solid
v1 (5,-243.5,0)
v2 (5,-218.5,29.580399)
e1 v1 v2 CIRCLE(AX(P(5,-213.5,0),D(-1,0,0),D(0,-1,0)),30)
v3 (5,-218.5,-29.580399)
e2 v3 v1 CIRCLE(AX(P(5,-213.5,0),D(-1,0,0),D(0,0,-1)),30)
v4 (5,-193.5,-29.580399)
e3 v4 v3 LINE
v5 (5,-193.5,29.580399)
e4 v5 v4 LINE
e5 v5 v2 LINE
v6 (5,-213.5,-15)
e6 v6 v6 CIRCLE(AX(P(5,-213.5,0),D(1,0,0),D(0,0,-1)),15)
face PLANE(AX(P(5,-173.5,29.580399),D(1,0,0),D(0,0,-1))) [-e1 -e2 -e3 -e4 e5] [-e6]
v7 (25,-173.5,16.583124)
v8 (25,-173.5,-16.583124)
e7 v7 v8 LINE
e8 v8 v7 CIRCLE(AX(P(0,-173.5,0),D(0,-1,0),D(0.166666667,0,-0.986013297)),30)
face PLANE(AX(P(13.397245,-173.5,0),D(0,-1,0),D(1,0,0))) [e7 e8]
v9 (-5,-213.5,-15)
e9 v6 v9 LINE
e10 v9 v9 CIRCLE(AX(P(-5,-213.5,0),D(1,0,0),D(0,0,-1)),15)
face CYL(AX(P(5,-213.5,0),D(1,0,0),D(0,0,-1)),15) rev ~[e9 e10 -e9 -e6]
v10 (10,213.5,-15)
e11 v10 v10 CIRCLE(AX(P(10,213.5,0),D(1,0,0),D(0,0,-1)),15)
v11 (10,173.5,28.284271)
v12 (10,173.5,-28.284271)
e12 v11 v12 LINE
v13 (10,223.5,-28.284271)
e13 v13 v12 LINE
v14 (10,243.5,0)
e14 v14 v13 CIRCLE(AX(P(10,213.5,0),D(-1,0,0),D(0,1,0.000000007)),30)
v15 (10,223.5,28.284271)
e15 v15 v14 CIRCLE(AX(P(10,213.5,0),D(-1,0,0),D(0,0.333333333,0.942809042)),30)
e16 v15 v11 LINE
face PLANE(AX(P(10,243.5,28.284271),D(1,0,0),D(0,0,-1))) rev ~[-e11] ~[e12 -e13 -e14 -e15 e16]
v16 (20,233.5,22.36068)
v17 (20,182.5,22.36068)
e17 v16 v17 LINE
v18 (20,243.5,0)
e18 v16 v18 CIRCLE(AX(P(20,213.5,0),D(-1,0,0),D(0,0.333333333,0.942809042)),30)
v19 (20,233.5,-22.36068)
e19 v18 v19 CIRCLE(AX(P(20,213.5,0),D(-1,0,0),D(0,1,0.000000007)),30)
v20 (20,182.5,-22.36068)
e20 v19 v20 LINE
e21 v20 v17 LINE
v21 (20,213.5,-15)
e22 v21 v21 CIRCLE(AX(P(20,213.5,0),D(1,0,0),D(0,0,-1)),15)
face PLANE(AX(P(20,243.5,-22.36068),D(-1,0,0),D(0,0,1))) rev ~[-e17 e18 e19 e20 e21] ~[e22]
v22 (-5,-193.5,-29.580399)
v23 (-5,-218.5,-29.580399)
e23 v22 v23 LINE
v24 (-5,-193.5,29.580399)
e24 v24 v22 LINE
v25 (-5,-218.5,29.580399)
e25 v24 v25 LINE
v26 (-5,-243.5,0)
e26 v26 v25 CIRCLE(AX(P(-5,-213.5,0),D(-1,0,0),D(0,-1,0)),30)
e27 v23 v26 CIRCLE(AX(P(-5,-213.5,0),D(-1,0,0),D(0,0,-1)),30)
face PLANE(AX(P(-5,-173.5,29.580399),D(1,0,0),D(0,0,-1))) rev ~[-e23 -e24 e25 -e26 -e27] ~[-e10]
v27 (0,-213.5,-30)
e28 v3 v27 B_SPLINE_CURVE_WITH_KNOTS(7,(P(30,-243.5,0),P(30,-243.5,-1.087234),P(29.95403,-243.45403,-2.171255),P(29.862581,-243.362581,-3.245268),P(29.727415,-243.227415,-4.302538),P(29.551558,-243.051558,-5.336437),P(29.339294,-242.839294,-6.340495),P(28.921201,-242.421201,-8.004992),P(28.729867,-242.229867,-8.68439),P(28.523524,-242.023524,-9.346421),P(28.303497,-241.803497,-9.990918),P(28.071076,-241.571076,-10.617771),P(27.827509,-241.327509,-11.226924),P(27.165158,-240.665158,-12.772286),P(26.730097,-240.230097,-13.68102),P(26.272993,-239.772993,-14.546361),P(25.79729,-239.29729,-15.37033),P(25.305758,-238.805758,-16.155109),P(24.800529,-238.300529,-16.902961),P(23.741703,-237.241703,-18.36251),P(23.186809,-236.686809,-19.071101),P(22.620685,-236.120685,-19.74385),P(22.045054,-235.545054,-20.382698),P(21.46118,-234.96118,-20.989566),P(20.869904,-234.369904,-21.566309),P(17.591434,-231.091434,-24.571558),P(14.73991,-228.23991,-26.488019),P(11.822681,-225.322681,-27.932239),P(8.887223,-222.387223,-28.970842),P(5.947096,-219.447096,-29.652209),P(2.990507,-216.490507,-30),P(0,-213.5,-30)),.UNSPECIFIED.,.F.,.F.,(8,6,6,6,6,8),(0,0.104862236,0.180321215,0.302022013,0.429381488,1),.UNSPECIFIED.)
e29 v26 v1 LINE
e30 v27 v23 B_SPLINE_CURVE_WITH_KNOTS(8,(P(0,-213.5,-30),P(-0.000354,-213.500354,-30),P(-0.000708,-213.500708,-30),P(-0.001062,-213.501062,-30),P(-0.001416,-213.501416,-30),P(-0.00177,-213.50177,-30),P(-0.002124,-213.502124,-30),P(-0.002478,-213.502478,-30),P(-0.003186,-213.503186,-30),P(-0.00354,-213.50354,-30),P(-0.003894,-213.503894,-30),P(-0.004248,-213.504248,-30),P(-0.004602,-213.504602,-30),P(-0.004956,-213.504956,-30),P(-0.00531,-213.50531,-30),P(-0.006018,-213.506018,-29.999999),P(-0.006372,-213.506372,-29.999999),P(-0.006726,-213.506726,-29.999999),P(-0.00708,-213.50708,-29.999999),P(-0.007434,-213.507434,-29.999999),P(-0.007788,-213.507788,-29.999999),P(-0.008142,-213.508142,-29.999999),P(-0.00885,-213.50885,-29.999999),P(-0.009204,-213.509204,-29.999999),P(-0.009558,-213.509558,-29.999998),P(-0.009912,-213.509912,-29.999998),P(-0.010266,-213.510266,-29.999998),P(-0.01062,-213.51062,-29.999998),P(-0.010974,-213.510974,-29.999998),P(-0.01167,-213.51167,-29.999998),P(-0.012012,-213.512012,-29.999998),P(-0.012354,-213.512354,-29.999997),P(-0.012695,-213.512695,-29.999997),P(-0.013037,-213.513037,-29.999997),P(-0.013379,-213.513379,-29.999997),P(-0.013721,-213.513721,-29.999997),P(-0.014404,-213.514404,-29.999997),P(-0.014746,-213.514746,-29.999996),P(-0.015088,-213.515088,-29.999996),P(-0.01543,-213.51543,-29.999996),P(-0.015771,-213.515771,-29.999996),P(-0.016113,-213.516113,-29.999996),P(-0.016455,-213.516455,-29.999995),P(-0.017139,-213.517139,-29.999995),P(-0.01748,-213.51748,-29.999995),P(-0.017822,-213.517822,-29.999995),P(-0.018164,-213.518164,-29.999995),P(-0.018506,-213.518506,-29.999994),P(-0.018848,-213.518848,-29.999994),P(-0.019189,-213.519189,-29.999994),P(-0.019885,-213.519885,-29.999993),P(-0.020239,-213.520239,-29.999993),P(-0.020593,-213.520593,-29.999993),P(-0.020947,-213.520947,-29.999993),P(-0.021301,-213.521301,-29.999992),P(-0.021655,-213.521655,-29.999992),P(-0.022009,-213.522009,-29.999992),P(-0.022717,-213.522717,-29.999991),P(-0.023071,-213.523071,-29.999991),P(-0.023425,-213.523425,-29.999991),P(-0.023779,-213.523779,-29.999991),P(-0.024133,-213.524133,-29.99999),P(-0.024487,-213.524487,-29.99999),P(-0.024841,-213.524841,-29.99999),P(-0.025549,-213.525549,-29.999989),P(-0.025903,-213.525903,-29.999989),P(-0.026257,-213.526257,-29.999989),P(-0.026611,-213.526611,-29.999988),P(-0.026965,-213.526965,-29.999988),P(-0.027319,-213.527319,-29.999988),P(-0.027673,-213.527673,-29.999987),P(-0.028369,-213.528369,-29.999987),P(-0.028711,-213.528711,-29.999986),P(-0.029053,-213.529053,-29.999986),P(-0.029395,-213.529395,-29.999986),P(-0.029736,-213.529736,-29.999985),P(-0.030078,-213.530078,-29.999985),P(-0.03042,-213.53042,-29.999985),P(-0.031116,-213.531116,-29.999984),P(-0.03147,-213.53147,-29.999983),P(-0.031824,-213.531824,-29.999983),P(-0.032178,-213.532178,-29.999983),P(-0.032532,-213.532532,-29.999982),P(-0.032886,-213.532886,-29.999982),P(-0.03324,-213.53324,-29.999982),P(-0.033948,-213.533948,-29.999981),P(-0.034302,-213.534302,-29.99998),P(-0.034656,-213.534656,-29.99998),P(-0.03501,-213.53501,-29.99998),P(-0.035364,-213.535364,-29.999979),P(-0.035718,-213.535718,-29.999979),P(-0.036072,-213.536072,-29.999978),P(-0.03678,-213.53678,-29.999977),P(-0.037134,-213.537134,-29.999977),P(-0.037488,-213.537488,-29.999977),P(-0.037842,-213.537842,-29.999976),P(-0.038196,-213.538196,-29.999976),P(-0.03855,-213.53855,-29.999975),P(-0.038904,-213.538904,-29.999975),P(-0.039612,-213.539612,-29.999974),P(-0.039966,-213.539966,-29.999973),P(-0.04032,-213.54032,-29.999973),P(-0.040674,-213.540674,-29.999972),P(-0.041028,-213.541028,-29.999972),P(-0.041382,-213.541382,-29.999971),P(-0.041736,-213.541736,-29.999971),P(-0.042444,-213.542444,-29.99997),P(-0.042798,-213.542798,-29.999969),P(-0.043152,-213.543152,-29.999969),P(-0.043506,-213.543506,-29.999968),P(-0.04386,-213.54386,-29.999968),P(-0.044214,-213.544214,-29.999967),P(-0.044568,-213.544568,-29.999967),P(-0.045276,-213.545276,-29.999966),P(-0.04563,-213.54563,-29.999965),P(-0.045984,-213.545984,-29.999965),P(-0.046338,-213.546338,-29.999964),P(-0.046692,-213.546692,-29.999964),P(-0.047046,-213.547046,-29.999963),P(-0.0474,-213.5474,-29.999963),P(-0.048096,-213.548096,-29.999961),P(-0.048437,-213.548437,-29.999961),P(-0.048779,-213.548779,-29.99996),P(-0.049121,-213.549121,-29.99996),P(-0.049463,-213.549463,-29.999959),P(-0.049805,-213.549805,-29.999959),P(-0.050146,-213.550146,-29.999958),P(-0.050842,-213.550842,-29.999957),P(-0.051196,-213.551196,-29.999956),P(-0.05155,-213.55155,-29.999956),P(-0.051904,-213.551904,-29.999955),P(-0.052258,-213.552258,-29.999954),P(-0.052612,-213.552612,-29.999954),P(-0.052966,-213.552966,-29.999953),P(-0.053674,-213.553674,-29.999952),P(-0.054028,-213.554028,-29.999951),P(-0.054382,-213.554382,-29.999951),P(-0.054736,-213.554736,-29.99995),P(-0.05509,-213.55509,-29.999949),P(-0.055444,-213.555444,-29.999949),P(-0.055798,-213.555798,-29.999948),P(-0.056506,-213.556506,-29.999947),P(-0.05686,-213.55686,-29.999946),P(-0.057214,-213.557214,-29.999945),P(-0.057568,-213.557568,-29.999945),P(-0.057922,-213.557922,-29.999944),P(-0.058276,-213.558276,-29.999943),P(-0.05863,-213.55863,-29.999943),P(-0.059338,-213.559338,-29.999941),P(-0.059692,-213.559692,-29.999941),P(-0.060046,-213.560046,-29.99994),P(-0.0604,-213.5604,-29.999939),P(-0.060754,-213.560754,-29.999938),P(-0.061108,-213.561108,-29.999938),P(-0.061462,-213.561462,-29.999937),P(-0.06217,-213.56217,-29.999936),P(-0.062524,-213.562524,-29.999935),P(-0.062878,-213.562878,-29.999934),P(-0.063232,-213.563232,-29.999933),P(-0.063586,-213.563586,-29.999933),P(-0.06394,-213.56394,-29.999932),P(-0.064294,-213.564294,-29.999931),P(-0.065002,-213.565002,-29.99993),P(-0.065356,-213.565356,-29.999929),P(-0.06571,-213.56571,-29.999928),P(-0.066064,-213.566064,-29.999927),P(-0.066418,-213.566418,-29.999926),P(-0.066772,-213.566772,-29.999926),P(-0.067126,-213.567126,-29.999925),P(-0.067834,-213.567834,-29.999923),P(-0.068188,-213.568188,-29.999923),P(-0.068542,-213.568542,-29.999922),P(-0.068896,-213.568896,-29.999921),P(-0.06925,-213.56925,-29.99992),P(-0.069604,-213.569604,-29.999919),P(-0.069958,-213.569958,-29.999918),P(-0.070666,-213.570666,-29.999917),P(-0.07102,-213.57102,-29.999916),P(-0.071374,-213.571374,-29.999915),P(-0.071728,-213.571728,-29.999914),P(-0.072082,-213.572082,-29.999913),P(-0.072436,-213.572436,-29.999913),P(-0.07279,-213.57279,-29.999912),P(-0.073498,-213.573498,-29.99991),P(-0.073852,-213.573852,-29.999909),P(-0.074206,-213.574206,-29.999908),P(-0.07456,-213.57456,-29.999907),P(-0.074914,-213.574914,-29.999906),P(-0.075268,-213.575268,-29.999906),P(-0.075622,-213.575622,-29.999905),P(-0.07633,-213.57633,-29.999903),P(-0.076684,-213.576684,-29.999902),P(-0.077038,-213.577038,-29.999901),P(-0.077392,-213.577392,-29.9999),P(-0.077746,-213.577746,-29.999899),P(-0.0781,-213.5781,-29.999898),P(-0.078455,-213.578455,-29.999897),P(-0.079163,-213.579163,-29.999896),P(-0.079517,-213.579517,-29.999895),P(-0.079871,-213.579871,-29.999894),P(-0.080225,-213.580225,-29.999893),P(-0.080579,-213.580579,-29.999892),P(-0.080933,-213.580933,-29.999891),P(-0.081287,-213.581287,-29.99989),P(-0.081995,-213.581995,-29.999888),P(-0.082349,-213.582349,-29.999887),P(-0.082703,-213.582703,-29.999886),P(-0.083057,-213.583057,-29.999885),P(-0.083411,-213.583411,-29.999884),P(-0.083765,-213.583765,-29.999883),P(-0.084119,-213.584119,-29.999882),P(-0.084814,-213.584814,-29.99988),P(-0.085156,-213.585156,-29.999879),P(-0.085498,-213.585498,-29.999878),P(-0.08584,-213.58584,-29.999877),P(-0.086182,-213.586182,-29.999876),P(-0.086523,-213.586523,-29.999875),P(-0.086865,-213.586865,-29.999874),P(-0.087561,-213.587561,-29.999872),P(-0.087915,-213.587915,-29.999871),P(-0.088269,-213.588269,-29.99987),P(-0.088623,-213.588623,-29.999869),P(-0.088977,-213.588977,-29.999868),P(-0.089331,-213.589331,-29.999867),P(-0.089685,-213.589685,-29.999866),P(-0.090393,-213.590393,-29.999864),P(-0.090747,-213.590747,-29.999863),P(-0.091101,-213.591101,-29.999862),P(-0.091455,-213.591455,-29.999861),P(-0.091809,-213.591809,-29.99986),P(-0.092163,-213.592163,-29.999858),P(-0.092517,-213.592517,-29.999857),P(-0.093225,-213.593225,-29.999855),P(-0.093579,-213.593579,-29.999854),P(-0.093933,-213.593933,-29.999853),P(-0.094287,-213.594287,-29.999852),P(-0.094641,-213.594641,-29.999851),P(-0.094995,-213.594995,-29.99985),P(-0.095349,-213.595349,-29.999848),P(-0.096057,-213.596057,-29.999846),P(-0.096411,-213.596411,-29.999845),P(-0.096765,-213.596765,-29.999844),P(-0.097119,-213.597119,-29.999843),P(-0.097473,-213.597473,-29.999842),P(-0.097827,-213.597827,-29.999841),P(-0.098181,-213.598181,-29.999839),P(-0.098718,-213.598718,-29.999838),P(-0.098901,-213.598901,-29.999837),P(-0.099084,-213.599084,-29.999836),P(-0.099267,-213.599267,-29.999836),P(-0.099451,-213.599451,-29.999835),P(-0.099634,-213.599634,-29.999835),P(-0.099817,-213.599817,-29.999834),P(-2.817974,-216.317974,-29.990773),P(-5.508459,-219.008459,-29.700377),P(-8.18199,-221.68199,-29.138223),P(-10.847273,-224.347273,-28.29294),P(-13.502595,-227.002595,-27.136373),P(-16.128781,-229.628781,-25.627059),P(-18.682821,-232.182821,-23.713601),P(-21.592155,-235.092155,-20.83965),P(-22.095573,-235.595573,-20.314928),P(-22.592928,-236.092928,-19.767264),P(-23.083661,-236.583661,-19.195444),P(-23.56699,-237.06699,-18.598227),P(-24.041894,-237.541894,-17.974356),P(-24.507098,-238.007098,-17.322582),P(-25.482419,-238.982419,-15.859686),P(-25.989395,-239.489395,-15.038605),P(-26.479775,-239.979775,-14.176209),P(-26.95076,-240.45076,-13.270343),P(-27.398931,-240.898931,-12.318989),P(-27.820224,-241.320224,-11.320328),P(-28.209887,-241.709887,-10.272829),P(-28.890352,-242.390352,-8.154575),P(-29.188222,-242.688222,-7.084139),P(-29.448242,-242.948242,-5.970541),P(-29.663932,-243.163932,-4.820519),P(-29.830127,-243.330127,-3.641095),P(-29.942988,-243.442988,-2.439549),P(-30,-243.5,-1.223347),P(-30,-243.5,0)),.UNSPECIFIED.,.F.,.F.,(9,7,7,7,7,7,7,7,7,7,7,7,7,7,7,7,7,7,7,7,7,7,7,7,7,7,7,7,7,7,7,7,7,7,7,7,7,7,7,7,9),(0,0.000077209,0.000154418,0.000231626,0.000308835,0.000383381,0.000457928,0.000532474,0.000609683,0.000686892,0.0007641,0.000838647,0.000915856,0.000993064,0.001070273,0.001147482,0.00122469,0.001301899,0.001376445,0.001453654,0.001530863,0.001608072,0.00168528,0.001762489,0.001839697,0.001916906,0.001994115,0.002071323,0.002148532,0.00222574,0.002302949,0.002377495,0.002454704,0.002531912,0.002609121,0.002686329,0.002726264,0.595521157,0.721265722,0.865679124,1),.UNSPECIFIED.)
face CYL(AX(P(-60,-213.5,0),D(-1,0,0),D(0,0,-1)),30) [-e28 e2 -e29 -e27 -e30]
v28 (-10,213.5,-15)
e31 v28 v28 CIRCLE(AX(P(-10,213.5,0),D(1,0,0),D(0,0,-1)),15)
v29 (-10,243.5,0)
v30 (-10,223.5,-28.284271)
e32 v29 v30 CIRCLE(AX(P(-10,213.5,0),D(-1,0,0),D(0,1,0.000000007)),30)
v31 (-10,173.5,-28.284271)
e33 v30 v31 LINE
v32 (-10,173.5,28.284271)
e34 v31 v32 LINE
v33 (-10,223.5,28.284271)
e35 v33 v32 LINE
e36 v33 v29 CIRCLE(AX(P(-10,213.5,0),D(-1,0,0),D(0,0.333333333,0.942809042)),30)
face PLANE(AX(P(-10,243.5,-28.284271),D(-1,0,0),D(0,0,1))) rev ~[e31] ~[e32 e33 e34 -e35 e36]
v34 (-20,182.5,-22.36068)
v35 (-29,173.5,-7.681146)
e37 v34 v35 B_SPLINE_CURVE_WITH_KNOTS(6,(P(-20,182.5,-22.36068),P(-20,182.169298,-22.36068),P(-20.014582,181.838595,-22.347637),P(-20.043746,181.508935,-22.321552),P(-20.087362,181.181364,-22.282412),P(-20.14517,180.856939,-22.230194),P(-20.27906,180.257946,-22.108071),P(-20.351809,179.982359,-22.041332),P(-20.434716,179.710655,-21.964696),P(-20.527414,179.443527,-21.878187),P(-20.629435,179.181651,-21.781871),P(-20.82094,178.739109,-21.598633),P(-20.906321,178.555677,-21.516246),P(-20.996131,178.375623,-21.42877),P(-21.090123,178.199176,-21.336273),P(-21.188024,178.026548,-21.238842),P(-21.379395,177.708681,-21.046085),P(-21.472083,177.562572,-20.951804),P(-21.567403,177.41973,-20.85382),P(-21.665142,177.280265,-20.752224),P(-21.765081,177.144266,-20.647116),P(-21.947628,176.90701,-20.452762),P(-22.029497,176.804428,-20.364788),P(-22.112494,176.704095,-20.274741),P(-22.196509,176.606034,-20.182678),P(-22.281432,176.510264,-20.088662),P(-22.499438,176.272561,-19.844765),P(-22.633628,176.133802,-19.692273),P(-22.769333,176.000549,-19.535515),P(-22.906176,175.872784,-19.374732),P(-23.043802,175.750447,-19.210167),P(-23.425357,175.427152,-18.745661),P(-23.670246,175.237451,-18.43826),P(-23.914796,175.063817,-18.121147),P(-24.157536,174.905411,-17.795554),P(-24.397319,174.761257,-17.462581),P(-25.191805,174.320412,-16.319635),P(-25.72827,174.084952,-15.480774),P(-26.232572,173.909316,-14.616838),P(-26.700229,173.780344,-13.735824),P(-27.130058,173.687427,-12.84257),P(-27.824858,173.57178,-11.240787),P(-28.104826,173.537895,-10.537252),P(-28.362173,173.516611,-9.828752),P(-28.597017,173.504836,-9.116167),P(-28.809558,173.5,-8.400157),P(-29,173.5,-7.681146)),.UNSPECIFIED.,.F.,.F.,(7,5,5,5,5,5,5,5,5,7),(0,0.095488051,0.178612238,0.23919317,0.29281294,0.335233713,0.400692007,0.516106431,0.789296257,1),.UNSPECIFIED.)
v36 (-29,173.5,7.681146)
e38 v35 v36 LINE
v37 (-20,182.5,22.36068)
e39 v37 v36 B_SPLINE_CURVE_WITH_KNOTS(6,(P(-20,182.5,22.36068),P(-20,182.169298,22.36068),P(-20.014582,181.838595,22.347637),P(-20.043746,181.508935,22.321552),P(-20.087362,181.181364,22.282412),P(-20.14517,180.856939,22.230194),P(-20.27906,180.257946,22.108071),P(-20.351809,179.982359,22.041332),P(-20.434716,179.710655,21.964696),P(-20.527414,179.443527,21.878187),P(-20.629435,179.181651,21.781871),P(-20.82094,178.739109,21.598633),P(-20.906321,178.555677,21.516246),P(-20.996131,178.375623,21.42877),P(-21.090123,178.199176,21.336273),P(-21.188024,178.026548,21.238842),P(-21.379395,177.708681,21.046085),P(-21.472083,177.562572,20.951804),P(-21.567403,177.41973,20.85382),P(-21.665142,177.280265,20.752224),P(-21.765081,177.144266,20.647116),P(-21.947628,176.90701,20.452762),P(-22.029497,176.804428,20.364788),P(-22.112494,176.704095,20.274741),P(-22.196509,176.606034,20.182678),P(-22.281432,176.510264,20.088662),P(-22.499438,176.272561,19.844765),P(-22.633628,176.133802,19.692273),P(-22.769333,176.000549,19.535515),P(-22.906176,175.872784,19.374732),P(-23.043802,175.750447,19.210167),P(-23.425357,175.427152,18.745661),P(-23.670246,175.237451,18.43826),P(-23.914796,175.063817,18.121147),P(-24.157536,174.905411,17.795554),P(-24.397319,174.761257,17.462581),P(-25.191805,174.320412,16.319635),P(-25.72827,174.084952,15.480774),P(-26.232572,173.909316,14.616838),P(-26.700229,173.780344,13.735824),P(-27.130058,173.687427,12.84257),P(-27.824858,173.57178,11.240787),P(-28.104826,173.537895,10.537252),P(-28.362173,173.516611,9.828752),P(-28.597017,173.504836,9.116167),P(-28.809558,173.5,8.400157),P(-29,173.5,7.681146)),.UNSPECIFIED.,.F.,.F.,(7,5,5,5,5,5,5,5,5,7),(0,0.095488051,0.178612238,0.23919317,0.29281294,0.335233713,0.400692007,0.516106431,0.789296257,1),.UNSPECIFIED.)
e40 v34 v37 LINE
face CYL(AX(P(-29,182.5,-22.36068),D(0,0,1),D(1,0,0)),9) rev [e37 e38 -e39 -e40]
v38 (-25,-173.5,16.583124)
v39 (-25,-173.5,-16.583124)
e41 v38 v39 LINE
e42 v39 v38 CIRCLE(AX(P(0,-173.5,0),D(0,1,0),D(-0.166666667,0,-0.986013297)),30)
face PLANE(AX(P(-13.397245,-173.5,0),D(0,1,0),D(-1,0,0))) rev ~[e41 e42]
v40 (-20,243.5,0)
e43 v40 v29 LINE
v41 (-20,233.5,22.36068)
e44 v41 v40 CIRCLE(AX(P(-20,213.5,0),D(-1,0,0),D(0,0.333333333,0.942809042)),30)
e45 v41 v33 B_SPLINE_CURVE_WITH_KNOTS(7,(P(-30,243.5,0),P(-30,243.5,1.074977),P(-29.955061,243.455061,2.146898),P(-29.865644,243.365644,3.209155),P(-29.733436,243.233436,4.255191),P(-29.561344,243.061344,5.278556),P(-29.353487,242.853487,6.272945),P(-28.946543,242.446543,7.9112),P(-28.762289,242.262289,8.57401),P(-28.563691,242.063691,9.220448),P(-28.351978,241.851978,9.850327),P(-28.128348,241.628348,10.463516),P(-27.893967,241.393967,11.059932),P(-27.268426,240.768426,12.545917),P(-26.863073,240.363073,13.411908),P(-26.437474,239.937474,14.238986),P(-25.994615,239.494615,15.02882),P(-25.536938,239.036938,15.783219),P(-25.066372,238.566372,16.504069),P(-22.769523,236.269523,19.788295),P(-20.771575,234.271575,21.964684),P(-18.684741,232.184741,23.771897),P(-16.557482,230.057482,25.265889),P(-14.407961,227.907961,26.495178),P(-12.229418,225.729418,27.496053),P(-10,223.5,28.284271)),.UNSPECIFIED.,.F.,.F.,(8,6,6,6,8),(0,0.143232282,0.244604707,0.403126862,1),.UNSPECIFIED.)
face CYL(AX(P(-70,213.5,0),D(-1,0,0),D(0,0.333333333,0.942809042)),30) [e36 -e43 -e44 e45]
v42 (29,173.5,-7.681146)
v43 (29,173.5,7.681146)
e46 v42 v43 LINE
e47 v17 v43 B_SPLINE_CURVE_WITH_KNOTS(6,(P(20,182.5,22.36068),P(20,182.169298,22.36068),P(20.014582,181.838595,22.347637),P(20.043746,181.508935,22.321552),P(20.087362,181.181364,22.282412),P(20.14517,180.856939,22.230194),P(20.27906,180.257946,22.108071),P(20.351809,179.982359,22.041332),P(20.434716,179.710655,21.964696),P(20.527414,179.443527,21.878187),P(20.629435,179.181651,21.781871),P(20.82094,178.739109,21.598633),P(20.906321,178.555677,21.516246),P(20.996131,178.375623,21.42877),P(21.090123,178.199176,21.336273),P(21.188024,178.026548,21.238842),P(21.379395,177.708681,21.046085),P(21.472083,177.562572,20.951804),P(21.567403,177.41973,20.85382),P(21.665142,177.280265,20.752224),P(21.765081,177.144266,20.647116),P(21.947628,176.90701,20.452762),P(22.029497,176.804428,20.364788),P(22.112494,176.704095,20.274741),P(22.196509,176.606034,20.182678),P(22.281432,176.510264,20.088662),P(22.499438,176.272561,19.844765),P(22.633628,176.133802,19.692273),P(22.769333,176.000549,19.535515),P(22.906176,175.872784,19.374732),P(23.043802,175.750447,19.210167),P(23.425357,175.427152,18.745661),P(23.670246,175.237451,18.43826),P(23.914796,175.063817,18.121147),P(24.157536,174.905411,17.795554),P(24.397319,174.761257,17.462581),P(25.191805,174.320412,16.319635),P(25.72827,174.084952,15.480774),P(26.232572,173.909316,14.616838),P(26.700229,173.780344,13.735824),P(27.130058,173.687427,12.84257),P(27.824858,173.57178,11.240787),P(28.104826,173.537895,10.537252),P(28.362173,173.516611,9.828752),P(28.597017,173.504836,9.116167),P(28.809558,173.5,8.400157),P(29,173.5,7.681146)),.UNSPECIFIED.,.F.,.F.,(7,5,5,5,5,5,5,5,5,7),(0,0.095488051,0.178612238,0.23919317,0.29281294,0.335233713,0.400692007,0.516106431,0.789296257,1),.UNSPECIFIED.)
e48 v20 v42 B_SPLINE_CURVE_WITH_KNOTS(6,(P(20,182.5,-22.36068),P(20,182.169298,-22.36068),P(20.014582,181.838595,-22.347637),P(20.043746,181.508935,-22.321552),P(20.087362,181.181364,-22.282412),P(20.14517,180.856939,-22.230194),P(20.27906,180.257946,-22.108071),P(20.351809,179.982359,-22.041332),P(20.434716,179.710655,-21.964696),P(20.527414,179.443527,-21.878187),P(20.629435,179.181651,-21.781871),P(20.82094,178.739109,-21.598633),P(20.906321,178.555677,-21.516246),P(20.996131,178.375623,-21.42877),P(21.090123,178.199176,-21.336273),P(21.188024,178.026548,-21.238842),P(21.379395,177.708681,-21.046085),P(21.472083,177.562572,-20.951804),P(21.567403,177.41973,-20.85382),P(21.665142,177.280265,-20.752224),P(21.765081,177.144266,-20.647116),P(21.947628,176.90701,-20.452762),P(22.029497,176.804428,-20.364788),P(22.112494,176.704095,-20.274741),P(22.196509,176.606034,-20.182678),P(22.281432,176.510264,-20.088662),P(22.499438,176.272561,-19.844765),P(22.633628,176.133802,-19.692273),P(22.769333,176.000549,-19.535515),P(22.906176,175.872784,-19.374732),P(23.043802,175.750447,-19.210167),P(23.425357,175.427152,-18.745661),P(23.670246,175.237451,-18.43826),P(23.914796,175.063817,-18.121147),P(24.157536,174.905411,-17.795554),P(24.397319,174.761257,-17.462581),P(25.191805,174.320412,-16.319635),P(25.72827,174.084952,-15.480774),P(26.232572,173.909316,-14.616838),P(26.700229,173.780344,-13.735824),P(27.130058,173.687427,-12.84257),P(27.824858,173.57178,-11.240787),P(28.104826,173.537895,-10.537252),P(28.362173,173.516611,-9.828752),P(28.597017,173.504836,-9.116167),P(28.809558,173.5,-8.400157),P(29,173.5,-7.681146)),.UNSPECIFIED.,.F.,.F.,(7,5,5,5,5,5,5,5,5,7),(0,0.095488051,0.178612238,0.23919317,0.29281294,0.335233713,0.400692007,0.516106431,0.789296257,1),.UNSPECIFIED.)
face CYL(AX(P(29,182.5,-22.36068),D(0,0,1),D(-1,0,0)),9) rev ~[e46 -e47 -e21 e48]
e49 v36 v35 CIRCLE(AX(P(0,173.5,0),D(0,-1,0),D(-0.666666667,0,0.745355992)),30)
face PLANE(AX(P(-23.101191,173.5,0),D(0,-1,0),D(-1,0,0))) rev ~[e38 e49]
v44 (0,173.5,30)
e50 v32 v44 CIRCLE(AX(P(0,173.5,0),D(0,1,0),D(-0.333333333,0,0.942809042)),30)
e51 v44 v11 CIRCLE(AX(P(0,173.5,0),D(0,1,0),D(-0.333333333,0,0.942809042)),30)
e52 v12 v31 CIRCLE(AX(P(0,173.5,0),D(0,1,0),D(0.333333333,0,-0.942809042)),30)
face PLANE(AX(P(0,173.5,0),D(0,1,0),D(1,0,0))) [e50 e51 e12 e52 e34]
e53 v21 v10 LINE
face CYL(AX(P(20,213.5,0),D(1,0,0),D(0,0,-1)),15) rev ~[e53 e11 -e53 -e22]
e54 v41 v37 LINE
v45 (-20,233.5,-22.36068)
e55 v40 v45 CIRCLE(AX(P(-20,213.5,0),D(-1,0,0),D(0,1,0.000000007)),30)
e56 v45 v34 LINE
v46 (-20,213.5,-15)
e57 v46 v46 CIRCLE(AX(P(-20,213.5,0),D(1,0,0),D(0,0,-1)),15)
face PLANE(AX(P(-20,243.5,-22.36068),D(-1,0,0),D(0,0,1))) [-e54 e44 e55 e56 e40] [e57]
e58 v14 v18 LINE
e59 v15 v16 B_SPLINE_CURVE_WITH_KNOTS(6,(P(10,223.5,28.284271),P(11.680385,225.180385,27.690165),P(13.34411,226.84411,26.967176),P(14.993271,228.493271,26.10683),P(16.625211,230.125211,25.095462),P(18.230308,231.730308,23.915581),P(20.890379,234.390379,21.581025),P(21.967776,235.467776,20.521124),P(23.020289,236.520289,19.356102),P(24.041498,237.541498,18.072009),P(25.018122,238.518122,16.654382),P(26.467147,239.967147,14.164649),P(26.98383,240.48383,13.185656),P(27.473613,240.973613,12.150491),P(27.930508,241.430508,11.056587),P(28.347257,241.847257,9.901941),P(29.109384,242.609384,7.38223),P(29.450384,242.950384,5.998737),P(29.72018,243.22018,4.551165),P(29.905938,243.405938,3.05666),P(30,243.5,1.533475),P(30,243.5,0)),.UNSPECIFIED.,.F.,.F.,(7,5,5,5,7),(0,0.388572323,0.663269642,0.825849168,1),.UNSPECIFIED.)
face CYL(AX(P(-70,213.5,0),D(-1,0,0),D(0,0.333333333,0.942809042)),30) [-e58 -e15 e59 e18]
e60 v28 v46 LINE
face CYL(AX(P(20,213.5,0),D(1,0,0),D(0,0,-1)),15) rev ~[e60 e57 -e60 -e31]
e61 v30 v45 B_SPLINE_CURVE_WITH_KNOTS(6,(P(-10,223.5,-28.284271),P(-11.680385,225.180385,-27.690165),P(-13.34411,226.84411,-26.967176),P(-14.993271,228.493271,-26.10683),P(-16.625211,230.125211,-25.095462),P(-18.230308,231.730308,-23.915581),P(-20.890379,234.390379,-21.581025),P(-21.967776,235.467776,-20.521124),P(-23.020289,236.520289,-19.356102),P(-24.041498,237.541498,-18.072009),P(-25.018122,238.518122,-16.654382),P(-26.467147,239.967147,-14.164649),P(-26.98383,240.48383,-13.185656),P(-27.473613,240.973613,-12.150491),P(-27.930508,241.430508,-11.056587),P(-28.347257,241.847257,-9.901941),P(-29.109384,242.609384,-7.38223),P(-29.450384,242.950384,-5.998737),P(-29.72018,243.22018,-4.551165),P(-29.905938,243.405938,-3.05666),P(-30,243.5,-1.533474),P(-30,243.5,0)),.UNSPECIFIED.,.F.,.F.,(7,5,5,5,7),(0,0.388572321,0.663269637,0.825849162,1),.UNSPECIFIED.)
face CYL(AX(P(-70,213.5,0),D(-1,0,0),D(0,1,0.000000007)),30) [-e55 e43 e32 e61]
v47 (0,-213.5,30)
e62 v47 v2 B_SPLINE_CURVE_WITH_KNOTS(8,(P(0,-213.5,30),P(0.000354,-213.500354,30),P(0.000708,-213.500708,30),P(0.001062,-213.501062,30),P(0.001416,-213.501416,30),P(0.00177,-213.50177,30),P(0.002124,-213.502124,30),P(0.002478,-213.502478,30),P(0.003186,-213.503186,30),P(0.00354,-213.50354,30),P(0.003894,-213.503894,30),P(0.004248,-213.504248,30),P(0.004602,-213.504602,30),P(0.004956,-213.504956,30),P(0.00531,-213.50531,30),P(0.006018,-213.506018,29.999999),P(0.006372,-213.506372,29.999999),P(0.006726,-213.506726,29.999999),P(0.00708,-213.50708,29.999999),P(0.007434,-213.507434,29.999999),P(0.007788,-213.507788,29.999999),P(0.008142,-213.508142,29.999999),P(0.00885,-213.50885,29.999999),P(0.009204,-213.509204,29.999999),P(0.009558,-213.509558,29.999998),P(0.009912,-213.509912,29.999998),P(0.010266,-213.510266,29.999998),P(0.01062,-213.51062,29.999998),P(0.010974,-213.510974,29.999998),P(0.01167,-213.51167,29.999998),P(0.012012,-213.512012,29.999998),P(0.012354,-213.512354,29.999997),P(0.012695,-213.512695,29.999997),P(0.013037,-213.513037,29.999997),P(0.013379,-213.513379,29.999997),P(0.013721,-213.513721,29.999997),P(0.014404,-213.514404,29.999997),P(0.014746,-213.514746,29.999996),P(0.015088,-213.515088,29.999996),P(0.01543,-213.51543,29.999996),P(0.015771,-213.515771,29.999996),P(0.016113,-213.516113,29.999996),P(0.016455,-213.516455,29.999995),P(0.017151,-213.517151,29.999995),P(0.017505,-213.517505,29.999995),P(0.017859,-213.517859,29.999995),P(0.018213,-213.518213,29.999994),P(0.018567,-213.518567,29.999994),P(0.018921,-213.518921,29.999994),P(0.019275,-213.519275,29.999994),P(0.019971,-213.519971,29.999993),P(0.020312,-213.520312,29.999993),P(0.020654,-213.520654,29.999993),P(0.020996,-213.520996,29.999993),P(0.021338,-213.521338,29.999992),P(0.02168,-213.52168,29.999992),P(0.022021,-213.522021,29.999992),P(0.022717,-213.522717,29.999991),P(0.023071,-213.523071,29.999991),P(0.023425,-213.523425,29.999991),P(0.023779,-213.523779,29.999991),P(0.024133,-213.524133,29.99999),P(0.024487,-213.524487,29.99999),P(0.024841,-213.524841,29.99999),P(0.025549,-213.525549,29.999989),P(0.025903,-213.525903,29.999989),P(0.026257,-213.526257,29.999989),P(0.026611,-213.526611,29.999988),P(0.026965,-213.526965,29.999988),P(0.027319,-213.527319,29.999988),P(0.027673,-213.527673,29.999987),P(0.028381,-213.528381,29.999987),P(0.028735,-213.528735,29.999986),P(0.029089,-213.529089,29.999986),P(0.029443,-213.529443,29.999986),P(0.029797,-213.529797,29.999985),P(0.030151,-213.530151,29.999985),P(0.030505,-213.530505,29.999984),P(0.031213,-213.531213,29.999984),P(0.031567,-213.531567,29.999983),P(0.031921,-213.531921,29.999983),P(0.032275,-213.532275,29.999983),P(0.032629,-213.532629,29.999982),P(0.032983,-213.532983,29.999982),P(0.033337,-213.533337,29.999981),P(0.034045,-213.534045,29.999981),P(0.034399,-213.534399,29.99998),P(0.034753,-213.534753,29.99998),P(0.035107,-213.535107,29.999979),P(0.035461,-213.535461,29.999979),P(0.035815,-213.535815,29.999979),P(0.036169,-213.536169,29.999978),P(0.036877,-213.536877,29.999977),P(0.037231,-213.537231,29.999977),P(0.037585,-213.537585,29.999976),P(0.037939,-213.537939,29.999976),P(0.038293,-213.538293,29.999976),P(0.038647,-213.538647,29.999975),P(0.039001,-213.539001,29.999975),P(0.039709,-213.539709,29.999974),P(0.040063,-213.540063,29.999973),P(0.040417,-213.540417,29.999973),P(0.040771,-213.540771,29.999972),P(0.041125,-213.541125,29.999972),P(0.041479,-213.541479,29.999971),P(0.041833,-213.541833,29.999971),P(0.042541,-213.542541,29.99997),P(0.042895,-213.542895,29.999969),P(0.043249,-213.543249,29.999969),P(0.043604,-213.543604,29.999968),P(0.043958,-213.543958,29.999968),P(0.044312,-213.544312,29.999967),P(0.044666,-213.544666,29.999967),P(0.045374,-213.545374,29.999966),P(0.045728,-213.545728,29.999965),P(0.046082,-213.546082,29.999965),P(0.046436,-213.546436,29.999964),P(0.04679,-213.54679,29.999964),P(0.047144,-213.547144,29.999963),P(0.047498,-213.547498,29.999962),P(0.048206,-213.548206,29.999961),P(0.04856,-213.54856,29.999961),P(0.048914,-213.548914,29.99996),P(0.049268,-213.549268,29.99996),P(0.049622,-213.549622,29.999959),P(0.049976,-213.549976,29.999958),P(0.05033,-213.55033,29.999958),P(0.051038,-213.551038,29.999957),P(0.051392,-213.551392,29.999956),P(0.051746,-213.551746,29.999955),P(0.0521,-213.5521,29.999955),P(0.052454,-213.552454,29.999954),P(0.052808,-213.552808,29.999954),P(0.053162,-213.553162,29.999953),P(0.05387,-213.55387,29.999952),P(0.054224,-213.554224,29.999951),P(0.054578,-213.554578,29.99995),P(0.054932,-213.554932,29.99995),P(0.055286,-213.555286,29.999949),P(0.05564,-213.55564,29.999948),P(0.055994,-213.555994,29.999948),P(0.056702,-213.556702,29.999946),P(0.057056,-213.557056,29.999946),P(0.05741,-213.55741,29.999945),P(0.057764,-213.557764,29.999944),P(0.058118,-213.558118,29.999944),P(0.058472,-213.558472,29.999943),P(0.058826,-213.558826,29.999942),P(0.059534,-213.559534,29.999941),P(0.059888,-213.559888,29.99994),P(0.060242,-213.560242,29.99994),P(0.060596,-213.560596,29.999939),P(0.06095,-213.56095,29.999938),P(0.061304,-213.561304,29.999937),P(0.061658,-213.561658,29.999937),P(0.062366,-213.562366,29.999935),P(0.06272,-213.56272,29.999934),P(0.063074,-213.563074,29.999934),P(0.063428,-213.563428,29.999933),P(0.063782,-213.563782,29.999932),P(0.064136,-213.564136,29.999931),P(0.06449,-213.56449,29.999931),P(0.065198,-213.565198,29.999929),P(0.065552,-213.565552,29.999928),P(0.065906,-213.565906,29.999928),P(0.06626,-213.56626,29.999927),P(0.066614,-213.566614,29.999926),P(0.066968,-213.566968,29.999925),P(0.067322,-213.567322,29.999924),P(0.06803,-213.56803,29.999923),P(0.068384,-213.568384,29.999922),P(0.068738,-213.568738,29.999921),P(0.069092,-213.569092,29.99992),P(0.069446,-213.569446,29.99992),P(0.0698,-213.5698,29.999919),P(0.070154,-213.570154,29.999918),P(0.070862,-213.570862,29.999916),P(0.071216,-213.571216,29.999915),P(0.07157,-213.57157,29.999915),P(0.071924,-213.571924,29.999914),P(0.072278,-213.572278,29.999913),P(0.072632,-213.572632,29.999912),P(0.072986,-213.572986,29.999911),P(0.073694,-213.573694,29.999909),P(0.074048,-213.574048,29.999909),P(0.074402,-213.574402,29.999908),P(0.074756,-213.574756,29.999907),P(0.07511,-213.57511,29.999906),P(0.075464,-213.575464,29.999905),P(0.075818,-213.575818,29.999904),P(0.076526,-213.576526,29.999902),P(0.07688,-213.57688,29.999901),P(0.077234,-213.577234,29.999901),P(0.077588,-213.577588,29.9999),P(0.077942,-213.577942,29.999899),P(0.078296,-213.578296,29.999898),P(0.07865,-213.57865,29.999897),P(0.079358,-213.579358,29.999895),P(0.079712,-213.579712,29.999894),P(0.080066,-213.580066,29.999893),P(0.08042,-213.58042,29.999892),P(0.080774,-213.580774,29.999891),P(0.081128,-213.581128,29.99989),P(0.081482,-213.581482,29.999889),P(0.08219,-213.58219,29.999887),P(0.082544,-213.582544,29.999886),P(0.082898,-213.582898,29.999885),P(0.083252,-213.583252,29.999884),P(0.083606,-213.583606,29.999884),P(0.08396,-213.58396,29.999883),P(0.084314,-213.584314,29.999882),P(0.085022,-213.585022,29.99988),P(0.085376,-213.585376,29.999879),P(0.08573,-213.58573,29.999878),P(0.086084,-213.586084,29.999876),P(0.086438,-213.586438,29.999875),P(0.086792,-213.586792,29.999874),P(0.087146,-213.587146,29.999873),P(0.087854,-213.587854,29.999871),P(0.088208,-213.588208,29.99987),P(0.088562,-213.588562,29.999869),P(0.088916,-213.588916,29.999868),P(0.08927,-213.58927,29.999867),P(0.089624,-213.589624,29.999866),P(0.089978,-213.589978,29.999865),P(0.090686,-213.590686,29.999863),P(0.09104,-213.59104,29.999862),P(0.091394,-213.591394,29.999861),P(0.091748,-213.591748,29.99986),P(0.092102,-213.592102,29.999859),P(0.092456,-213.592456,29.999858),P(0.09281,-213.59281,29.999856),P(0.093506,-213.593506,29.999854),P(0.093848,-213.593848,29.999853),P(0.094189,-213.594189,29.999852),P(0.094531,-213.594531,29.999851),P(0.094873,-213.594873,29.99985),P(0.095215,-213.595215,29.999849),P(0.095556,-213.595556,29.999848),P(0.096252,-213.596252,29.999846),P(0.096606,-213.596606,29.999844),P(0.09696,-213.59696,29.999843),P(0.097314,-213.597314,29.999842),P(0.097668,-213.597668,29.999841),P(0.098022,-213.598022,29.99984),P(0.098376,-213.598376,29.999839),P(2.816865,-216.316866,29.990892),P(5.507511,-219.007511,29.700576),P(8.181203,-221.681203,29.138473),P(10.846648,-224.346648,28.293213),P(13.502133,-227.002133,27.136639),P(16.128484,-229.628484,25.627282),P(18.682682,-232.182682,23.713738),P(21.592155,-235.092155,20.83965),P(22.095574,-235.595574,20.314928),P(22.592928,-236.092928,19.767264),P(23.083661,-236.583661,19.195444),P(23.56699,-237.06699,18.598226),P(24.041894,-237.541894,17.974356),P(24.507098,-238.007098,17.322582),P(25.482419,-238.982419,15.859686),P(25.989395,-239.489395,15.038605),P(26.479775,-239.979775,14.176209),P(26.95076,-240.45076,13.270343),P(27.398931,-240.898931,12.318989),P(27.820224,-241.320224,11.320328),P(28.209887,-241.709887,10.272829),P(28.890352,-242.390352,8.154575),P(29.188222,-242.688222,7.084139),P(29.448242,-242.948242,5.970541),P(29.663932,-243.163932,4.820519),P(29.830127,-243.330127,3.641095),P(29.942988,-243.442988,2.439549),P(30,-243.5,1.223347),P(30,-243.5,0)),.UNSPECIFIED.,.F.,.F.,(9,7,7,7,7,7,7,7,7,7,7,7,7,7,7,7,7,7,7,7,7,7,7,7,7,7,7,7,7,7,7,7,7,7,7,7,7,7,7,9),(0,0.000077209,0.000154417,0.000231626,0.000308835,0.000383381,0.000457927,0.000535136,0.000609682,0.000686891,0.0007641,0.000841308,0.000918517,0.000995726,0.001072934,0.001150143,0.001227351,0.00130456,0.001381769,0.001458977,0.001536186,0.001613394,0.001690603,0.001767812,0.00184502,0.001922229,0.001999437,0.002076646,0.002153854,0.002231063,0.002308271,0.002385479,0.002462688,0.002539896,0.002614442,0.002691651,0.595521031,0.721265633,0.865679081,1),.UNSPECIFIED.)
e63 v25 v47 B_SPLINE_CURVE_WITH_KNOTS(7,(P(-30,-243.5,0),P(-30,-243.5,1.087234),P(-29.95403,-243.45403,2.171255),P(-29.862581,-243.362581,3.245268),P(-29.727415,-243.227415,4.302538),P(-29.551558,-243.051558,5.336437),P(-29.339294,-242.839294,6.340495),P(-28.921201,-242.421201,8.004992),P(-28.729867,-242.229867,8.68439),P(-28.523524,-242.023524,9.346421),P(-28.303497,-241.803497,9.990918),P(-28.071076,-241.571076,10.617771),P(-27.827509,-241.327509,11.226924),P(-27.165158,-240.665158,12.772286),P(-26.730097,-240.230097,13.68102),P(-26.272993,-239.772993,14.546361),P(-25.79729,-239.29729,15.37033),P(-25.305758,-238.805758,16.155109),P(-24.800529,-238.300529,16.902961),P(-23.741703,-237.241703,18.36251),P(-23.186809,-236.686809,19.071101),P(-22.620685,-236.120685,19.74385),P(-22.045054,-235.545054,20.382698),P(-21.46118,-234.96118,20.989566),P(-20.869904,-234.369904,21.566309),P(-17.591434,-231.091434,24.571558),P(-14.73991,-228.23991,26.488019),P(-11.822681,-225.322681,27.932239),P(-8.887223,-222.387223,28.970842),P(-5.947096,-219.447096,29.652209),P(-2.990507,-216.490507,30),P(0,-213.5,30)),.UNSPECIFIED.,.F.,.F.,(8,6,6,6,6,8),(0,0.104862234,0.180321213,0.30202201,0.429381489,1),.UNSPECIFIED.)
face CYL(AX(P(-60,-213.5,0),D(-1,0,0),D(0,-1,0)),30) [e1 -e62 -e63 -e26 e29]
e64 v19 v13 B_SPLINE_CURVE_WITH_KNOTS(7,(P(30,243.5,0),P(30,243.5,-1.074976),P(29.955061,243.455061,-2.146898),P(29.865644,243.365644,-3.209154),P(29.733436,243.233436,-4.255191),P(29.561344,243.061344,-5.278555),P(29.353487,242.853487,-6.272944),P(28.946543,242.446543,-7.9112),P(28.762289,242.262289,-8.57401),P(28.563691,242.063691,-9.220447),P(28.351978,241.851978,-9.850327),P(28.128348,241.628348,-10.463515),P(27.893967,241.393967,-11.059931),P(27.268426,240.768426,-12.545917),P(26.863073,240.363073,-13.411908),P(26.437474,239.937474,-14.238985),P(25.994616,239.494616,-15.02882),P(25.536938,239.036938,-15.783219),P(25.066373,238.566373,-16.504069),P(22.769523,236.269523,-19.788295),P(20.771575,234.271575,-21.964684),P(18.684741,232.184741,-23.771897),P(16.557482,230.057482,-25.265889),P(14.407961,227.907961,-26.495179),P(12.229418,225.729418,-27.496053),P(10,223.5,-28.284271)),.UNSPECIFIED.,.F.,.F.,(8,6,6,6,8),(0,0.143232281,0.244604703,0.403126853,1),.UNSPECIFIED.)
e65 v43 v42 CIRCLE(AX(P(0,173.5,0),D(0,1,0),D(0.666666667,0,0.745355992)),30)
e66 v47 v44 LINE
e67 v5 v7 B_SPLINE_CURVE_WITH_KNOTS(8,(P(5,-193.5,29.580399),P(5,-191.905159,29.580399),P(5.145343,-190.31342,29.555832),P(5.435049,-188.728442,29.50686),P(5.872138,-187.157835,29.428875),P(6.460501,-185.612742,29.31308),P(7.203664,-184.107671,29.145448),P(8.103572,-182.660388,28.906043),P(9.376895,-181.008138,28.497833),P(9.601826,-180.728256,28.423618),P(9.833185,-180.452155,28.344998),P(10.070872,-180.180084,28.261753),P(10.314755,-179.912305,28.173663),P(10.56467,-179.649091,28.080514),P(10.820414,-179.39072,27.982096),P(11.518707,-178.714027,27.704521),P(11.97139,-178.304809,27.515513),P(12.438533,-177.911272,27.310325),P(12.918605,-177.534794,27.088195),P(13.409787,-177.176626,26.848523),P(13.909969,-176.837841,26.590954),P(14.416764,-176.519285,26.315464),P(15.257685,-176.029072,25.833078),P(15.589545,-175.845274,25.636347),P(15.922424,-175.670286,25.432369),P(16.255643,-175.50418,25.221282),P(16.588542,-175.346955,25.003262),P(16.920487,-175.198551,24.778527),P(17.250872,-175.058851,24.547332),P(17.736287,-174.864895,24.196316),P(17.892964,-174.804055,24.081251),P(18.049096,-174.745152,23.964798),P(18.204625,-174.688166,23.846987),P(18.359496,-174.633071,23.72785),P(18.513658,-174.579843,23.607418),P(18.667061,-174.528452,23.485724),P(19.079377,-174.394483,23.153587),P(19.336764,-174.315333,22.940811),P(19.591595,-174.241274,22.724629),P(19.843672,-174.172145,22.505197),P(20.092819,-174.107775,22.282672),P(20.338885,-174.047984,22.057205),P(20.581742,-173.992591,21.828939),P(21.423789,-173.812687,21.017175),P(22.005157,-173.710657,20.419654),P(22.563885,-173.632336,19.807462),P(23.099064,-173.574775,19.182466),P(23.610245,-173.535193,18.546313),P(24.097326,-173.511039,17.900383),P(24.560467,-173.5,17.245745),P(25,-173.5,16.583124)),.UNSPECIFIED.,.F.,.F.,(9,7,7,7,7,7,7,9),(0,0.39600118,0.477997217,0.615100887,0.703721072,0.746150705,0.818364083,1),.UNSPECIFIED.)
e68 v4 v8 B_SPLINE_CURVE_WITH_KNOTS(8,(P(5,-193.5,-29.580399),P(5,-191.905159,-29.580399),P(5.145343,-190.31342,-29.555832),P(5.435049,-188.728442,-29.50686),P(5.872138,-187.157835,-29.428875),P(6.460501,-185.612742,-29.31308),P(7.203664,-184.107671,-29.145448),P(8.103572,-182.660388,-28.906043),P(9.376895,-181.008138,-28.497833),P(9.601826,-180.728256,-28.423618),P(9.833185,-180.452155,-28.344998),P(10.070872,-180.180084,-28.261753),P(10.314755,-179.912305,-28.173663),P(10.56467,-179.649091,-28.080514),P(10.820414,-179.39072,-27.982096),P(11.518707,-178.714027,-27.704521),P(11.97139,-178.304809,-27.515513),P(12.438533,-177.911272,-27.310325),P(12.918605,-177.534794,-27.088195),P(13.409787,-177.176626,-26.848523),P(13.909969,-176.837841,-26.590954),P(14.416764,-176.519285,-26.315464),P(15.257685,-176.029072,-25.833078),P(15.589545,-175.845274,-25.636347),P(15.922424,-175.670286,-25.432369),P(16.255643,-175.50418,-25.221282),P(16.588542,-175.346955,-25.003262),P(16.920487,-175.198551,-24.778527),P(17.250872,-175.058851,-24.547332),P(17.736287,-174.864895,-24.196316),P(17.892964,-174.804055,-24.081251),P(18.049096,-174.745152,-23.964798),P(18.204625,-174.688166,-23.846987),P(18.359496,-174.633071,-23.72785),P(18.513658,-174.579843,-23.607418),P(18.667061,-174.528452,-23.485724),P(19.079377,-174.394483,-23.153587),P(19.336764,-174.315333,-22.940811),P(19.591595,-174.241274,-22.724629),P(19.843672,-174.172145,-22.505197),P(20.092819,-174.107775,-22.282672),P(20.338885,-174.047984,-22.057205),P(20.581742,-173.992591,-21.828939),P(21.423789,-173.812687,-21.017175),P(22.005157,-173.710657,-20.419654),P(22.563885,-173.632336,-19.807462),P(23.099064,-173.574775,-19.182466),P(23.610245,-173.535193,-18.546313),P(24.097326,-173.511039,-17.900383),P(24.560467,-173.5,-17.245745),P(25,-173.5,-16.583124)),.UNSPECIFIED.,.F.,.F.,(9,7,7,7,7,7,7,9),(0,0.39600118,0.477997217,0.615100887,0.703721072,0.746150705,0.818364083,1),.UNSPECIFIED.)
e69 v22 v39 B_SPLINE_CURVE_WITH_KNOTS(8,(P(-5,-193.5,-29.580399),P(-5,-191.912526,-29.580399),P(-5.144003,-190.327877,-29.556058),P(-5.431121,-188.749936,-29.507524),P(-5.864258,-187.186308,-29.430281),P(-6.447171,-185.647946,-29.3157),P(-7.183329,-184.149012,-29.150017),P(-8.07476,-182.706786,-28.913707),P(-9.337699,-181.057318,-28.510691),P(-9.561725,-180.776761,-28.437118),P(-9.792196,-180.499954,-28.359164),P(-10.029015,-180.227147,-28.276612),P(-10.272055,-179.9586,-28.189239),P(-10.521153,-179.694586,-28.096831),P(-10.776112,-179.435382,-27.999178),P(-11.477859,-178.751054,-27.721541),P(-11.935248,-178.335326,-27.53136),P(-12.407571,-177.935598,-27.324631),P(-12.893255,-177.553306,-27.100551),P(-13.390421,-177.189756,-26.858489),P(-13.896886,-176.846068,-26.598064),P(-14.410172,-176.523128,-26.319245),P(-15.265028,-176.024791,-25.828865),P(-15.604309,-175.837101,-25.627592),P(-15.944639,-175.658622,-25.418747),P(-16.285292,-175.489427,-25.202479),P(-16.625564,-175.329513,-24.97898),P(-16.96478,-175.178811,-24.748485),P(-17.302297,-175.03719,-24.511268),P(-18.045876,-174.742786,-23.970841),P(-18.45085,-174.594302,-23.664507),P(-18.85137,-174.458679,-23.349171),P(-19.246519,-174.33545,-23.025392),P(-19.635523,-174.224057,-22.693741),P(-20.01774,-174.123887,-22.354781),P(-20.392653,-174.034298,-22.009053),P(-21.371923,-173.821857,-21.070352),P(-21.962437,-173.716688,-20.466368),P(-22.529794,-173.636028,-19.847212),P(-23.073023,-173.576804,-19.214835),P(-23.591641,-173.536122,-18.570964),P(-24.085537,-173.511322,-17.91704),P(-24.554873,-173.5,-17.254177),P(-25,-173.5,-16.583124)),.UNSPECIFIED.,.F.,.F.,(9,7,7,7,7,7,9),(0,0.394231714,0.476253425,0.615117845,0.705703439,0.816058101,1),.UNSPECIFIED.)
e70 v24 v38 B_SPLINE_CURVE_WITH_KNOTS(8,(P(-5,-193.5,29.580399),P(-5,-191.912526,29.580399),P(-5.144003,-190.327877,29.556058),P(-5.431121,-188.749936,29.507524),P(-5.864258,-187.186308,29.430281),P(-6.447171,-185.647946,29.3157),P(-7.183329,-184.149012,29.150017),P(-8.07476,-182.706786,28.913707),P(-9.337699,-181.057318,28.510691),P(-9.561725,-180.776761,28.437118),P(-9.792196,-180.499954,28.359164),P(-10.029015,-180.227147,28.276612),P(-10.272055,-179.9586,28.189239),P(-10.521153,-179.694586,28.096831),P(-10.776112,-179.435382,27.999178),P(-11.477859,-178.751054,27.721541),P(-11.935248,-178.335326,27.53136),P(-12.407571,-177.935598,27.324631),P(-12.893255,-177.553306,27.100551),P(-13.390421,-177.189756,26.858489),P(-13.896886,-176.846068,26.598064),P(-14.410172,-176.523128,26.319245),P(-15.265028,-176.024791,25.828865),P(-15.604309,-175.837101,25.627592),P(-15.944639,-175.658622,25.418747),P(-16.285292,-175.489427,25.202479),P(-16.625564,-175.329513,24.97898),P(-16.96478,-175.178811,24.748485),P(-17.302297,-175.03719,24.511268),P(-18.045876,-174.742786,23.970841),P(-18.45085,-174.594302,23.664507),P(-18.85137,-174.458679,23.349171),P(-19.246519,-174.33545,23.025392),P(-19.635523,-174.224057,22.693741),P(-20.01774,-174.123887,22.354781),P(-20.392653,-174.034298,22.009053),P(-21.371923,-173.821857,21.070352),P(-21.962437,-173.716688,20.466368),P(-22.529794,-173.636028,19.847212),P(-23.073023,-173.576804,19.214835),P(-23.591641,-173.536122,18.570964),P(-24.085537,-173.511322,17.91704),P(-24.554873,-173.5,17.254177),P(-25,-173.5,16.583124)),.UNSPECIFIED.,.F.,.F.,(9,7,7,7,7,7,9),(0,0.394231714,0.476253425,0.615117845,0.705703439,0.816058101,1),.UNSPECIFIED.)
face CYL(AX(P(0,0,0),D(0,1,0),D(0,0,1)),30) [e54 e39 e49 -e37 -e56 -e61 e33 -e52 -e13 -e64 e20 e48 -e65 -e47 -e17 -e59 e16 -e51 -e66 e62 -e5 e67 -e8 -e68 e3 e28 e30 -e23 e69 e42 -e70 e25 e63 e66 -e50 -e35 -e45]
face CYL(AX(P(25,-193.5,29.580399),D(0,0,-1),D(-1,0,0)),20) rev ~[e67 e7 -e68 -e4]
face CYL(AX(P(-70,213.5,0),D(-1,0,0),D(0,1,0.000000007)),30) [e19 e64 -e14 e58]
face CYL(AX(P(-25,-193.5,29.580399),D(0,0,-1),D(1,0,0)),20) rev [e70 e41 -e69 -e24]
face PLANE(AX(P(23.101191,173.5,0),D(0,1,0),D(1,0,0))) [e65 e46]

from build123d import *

# Parameters (mm, degrees)
SKETCH1_R               = 30
BOSS_EXTRUDE1_DEPTH     = 243.5
CUT_EXTRUDE1_DEPTH      = 70
FILLET1_R               = 9
FILLET2_R               = 9
SKETCH4_R               = 15
CUT_EXTRUDE2_DEPTH      = 70
CUT_EXTRUDE3_DEPTH      = 70
CUT_EXTRUDE3_DEPTH_BACK = 70
CUT_EXTRUDE4_START      = -70
CUT_EXTRUDE4_DEPTH      = 70
SKETCH8_R               = 15
CUT_EXTRUDE5_DEPTH      = 60
CUT_EXTRUDE8_DEPTH      = 60
CUT_EXTRUDE8_DEPTH_BACK = 60
FILLET3_R               = 20
FILLET4_R               = 20


with BuildPart() as part:
    # Sketch1 → Boss-Extrude1 (new, symmetric)
    with BuildSketch(Plane(origin=(0, 0, 0), x_dir=(1, 0, 0), z_dir=(0, 1, 0))):
        with Locations(Location((0, 0, 0), (0, 0, 270))):
            Circle(SKETCH1_R)
    extrude(amount=BOSS_EXTRUDE1_DEPTH, both=True)

    # Sketch3 → Cut-Extrude1 (cut)
    with BuildSketch(Plane(origin=(0, 243.5, 0), x_dir=(1, 0, 0), z_dir=(0, 1, 0))):
        with BuildLine():
            Line((-10, 28.284271247), (-10, -28.284271247))
            ThreePointArc((-10, -28.284271247), (0, -30), (10, -28.284271247))
            Line((10, -28.284271247), (10, 28.284271247))
            ThreePointArc((10, 28.284271247), (0, 30), (-10, 28.284271247))
        make_face()
        with BuildLine():
            Line((-20, 22.360679775), (-20, -22.360679775))
            ThreePointArc((-20, -22.360679775), (-30, 0), (-20, 22.360679775))
        make_face()
        with BuildLine():
            Line((20, 22.360679775), (20, -22.360679775))
            ThreePointArc((20, -22.360679775), (30, 0), (20, 22.360679775))
        make_face()
    extrude(amount=-CUT_EXTRUDE1_DEPTH, mode=Mode.SUBTRACT)

    # Fillet1
    fillet1_edges = [part.edges().sort_by_distance(p)[0] for p in [
        (-20, 173.5, 0),
    ]]
    fillet(fillet1_edges, radius=FILLET1_R)

    # Fillet2
    fillet2_edges = [part.edges().sort_by_distance(p)[0] for p in [
        (20, 173.5, 0),
    ]]
    fillet(fillet2_edges, radius=FILLET2_R)

    # Sketch4 → Cut-Extrude2 (cut)
    with BuildSketch(Plane(origin=(20, 0, 0), x_dir=(0, 0, -1), z_dir=(1, 0, 0))):
        with Locations((0, 213.5)):
            Circle(SKETCH4_R)
    extrude(amount=-CUT_EXTRUDE2_DEPTH, mode=Mode.SUBTRACT)

    # Sketch6 → Cut-Extrude3 (cut, two sides: drawn at the far end of the back side and taken through both)
    with BuildSketch(Plane(origin=(0, 0, 0), x_dir=(0, 0, -1), z_dir=(1, 0, 0)).offset(-CUT_EXTRUDE3_DEPTH_BACK)):
        with BuildLine():
            Line((-1.96e-07, 243.5), (-28.284271247, 243.5))
            Line((-28.284271247, 243.5), (-28.284271247, 223.5))
            ThreePointArc((-28.284271247, 223.5), (-17.320508156, 237.994897371), (-1.96e-07, 243.5))
        make_face()
        with BuildLine():
            Line((28.284271247, 243.5), (-1.96e-07, 243.5))
            ThreePointArc((-1.96e-07, 243.5), (17.320507996, 237.994897484), (28.284271247, 223.5))
            Line((28.284271247, 223.5), (28.284271247, 243.5))
        make_face()
    extrude(amount=CUT_EXTRUDE3_DEPTH + CUT_EXTRUDE3_DEPTH_BACK, mode=Mode.SUBTRACT)

    # Sketch7 → Cut-Extrude4 (cut)
    with BuildSketch(Plane.XZ.offset(243.5).offset(CUT_EXTRUDE4_START)):
        with BuildLine():
            Line((-5, 29.580398915), (-5, -29.580398915))
            ThreePointArc((-5, -29.580398915), (-30, 0), (-5, 29.580398915))
        make_face()
        with BuildLine():
            Line((5, 29.580398915), (5, -29.580398915))
            ThreePointArc((5, -29.580398915), (30, 0), (5, 29.580398915))
        make_face()
    extrude(amount=CUT_EXTRUDE4_DEPTH, mode=Mode.SUBTRACT)

    # Sketch8 → Cut-Extrude5 (cut)
    with BuildSketch(Plane(origin=(5, 0, 0), x_dir=(0, 0, -1), z_dir=(1, 0, 0))):
        with Locations((0, -213.5)):
            Circle(SKETCH8_R)
    extrude(amount=-CUT_EXTRUDE5_DEPTH, mode=Mode.SUBTRACT)

    # Sketch10 → Cut-Extrude8 (cut, two sides: drawn at the far end of the back side and taken through both)
    with BuildSketch(Plane(origin=(0, 0, 0), x_dir=(0, 0, -1), z_dir=(1, 0, 0)).offset(-CUT_EXTRUDE8_DEPTH_BACK)):
        with BuildLine():
            Line((30, -243.5), (30, -213.5))
            ThreePointArc((30, -213.5), (21.213203436, -234.713203436), (0, -243.5))
            Line((0, -243.5), (30, -243.5))
        make_face()
        with BuildLine():
            ThreePointArc((0, -243.5), (-21.213203436, -234.713203436), (-30, -213.5))
            Line((-30, -213.5), (-30, -243.5))
            Line((-30, -243.5), (0, -243.5))
        make_face()
    extrude(amount=CUT_EXTRUDE8_DEPTH + CUT_EXTRUDE8_DEPTH_BACK, mode=Mode.SUBTRACT)

    # Fillet3
    fillet3_edges = [part.edges().sort_by_distance(p)[0] for p in [
        (5, -173.5, 0),
    ]]
    fillet(fillet3_edges, radius=FILLET3_R)

    # Fillet4
    fillet4_edges = [part.edges().sort_by_distance(p)[0] for p in [
        (-5, -173.5, 0),
    ]]
    fillet(fillet4_edges, radius=FILLET4_R)


solid = part.part
